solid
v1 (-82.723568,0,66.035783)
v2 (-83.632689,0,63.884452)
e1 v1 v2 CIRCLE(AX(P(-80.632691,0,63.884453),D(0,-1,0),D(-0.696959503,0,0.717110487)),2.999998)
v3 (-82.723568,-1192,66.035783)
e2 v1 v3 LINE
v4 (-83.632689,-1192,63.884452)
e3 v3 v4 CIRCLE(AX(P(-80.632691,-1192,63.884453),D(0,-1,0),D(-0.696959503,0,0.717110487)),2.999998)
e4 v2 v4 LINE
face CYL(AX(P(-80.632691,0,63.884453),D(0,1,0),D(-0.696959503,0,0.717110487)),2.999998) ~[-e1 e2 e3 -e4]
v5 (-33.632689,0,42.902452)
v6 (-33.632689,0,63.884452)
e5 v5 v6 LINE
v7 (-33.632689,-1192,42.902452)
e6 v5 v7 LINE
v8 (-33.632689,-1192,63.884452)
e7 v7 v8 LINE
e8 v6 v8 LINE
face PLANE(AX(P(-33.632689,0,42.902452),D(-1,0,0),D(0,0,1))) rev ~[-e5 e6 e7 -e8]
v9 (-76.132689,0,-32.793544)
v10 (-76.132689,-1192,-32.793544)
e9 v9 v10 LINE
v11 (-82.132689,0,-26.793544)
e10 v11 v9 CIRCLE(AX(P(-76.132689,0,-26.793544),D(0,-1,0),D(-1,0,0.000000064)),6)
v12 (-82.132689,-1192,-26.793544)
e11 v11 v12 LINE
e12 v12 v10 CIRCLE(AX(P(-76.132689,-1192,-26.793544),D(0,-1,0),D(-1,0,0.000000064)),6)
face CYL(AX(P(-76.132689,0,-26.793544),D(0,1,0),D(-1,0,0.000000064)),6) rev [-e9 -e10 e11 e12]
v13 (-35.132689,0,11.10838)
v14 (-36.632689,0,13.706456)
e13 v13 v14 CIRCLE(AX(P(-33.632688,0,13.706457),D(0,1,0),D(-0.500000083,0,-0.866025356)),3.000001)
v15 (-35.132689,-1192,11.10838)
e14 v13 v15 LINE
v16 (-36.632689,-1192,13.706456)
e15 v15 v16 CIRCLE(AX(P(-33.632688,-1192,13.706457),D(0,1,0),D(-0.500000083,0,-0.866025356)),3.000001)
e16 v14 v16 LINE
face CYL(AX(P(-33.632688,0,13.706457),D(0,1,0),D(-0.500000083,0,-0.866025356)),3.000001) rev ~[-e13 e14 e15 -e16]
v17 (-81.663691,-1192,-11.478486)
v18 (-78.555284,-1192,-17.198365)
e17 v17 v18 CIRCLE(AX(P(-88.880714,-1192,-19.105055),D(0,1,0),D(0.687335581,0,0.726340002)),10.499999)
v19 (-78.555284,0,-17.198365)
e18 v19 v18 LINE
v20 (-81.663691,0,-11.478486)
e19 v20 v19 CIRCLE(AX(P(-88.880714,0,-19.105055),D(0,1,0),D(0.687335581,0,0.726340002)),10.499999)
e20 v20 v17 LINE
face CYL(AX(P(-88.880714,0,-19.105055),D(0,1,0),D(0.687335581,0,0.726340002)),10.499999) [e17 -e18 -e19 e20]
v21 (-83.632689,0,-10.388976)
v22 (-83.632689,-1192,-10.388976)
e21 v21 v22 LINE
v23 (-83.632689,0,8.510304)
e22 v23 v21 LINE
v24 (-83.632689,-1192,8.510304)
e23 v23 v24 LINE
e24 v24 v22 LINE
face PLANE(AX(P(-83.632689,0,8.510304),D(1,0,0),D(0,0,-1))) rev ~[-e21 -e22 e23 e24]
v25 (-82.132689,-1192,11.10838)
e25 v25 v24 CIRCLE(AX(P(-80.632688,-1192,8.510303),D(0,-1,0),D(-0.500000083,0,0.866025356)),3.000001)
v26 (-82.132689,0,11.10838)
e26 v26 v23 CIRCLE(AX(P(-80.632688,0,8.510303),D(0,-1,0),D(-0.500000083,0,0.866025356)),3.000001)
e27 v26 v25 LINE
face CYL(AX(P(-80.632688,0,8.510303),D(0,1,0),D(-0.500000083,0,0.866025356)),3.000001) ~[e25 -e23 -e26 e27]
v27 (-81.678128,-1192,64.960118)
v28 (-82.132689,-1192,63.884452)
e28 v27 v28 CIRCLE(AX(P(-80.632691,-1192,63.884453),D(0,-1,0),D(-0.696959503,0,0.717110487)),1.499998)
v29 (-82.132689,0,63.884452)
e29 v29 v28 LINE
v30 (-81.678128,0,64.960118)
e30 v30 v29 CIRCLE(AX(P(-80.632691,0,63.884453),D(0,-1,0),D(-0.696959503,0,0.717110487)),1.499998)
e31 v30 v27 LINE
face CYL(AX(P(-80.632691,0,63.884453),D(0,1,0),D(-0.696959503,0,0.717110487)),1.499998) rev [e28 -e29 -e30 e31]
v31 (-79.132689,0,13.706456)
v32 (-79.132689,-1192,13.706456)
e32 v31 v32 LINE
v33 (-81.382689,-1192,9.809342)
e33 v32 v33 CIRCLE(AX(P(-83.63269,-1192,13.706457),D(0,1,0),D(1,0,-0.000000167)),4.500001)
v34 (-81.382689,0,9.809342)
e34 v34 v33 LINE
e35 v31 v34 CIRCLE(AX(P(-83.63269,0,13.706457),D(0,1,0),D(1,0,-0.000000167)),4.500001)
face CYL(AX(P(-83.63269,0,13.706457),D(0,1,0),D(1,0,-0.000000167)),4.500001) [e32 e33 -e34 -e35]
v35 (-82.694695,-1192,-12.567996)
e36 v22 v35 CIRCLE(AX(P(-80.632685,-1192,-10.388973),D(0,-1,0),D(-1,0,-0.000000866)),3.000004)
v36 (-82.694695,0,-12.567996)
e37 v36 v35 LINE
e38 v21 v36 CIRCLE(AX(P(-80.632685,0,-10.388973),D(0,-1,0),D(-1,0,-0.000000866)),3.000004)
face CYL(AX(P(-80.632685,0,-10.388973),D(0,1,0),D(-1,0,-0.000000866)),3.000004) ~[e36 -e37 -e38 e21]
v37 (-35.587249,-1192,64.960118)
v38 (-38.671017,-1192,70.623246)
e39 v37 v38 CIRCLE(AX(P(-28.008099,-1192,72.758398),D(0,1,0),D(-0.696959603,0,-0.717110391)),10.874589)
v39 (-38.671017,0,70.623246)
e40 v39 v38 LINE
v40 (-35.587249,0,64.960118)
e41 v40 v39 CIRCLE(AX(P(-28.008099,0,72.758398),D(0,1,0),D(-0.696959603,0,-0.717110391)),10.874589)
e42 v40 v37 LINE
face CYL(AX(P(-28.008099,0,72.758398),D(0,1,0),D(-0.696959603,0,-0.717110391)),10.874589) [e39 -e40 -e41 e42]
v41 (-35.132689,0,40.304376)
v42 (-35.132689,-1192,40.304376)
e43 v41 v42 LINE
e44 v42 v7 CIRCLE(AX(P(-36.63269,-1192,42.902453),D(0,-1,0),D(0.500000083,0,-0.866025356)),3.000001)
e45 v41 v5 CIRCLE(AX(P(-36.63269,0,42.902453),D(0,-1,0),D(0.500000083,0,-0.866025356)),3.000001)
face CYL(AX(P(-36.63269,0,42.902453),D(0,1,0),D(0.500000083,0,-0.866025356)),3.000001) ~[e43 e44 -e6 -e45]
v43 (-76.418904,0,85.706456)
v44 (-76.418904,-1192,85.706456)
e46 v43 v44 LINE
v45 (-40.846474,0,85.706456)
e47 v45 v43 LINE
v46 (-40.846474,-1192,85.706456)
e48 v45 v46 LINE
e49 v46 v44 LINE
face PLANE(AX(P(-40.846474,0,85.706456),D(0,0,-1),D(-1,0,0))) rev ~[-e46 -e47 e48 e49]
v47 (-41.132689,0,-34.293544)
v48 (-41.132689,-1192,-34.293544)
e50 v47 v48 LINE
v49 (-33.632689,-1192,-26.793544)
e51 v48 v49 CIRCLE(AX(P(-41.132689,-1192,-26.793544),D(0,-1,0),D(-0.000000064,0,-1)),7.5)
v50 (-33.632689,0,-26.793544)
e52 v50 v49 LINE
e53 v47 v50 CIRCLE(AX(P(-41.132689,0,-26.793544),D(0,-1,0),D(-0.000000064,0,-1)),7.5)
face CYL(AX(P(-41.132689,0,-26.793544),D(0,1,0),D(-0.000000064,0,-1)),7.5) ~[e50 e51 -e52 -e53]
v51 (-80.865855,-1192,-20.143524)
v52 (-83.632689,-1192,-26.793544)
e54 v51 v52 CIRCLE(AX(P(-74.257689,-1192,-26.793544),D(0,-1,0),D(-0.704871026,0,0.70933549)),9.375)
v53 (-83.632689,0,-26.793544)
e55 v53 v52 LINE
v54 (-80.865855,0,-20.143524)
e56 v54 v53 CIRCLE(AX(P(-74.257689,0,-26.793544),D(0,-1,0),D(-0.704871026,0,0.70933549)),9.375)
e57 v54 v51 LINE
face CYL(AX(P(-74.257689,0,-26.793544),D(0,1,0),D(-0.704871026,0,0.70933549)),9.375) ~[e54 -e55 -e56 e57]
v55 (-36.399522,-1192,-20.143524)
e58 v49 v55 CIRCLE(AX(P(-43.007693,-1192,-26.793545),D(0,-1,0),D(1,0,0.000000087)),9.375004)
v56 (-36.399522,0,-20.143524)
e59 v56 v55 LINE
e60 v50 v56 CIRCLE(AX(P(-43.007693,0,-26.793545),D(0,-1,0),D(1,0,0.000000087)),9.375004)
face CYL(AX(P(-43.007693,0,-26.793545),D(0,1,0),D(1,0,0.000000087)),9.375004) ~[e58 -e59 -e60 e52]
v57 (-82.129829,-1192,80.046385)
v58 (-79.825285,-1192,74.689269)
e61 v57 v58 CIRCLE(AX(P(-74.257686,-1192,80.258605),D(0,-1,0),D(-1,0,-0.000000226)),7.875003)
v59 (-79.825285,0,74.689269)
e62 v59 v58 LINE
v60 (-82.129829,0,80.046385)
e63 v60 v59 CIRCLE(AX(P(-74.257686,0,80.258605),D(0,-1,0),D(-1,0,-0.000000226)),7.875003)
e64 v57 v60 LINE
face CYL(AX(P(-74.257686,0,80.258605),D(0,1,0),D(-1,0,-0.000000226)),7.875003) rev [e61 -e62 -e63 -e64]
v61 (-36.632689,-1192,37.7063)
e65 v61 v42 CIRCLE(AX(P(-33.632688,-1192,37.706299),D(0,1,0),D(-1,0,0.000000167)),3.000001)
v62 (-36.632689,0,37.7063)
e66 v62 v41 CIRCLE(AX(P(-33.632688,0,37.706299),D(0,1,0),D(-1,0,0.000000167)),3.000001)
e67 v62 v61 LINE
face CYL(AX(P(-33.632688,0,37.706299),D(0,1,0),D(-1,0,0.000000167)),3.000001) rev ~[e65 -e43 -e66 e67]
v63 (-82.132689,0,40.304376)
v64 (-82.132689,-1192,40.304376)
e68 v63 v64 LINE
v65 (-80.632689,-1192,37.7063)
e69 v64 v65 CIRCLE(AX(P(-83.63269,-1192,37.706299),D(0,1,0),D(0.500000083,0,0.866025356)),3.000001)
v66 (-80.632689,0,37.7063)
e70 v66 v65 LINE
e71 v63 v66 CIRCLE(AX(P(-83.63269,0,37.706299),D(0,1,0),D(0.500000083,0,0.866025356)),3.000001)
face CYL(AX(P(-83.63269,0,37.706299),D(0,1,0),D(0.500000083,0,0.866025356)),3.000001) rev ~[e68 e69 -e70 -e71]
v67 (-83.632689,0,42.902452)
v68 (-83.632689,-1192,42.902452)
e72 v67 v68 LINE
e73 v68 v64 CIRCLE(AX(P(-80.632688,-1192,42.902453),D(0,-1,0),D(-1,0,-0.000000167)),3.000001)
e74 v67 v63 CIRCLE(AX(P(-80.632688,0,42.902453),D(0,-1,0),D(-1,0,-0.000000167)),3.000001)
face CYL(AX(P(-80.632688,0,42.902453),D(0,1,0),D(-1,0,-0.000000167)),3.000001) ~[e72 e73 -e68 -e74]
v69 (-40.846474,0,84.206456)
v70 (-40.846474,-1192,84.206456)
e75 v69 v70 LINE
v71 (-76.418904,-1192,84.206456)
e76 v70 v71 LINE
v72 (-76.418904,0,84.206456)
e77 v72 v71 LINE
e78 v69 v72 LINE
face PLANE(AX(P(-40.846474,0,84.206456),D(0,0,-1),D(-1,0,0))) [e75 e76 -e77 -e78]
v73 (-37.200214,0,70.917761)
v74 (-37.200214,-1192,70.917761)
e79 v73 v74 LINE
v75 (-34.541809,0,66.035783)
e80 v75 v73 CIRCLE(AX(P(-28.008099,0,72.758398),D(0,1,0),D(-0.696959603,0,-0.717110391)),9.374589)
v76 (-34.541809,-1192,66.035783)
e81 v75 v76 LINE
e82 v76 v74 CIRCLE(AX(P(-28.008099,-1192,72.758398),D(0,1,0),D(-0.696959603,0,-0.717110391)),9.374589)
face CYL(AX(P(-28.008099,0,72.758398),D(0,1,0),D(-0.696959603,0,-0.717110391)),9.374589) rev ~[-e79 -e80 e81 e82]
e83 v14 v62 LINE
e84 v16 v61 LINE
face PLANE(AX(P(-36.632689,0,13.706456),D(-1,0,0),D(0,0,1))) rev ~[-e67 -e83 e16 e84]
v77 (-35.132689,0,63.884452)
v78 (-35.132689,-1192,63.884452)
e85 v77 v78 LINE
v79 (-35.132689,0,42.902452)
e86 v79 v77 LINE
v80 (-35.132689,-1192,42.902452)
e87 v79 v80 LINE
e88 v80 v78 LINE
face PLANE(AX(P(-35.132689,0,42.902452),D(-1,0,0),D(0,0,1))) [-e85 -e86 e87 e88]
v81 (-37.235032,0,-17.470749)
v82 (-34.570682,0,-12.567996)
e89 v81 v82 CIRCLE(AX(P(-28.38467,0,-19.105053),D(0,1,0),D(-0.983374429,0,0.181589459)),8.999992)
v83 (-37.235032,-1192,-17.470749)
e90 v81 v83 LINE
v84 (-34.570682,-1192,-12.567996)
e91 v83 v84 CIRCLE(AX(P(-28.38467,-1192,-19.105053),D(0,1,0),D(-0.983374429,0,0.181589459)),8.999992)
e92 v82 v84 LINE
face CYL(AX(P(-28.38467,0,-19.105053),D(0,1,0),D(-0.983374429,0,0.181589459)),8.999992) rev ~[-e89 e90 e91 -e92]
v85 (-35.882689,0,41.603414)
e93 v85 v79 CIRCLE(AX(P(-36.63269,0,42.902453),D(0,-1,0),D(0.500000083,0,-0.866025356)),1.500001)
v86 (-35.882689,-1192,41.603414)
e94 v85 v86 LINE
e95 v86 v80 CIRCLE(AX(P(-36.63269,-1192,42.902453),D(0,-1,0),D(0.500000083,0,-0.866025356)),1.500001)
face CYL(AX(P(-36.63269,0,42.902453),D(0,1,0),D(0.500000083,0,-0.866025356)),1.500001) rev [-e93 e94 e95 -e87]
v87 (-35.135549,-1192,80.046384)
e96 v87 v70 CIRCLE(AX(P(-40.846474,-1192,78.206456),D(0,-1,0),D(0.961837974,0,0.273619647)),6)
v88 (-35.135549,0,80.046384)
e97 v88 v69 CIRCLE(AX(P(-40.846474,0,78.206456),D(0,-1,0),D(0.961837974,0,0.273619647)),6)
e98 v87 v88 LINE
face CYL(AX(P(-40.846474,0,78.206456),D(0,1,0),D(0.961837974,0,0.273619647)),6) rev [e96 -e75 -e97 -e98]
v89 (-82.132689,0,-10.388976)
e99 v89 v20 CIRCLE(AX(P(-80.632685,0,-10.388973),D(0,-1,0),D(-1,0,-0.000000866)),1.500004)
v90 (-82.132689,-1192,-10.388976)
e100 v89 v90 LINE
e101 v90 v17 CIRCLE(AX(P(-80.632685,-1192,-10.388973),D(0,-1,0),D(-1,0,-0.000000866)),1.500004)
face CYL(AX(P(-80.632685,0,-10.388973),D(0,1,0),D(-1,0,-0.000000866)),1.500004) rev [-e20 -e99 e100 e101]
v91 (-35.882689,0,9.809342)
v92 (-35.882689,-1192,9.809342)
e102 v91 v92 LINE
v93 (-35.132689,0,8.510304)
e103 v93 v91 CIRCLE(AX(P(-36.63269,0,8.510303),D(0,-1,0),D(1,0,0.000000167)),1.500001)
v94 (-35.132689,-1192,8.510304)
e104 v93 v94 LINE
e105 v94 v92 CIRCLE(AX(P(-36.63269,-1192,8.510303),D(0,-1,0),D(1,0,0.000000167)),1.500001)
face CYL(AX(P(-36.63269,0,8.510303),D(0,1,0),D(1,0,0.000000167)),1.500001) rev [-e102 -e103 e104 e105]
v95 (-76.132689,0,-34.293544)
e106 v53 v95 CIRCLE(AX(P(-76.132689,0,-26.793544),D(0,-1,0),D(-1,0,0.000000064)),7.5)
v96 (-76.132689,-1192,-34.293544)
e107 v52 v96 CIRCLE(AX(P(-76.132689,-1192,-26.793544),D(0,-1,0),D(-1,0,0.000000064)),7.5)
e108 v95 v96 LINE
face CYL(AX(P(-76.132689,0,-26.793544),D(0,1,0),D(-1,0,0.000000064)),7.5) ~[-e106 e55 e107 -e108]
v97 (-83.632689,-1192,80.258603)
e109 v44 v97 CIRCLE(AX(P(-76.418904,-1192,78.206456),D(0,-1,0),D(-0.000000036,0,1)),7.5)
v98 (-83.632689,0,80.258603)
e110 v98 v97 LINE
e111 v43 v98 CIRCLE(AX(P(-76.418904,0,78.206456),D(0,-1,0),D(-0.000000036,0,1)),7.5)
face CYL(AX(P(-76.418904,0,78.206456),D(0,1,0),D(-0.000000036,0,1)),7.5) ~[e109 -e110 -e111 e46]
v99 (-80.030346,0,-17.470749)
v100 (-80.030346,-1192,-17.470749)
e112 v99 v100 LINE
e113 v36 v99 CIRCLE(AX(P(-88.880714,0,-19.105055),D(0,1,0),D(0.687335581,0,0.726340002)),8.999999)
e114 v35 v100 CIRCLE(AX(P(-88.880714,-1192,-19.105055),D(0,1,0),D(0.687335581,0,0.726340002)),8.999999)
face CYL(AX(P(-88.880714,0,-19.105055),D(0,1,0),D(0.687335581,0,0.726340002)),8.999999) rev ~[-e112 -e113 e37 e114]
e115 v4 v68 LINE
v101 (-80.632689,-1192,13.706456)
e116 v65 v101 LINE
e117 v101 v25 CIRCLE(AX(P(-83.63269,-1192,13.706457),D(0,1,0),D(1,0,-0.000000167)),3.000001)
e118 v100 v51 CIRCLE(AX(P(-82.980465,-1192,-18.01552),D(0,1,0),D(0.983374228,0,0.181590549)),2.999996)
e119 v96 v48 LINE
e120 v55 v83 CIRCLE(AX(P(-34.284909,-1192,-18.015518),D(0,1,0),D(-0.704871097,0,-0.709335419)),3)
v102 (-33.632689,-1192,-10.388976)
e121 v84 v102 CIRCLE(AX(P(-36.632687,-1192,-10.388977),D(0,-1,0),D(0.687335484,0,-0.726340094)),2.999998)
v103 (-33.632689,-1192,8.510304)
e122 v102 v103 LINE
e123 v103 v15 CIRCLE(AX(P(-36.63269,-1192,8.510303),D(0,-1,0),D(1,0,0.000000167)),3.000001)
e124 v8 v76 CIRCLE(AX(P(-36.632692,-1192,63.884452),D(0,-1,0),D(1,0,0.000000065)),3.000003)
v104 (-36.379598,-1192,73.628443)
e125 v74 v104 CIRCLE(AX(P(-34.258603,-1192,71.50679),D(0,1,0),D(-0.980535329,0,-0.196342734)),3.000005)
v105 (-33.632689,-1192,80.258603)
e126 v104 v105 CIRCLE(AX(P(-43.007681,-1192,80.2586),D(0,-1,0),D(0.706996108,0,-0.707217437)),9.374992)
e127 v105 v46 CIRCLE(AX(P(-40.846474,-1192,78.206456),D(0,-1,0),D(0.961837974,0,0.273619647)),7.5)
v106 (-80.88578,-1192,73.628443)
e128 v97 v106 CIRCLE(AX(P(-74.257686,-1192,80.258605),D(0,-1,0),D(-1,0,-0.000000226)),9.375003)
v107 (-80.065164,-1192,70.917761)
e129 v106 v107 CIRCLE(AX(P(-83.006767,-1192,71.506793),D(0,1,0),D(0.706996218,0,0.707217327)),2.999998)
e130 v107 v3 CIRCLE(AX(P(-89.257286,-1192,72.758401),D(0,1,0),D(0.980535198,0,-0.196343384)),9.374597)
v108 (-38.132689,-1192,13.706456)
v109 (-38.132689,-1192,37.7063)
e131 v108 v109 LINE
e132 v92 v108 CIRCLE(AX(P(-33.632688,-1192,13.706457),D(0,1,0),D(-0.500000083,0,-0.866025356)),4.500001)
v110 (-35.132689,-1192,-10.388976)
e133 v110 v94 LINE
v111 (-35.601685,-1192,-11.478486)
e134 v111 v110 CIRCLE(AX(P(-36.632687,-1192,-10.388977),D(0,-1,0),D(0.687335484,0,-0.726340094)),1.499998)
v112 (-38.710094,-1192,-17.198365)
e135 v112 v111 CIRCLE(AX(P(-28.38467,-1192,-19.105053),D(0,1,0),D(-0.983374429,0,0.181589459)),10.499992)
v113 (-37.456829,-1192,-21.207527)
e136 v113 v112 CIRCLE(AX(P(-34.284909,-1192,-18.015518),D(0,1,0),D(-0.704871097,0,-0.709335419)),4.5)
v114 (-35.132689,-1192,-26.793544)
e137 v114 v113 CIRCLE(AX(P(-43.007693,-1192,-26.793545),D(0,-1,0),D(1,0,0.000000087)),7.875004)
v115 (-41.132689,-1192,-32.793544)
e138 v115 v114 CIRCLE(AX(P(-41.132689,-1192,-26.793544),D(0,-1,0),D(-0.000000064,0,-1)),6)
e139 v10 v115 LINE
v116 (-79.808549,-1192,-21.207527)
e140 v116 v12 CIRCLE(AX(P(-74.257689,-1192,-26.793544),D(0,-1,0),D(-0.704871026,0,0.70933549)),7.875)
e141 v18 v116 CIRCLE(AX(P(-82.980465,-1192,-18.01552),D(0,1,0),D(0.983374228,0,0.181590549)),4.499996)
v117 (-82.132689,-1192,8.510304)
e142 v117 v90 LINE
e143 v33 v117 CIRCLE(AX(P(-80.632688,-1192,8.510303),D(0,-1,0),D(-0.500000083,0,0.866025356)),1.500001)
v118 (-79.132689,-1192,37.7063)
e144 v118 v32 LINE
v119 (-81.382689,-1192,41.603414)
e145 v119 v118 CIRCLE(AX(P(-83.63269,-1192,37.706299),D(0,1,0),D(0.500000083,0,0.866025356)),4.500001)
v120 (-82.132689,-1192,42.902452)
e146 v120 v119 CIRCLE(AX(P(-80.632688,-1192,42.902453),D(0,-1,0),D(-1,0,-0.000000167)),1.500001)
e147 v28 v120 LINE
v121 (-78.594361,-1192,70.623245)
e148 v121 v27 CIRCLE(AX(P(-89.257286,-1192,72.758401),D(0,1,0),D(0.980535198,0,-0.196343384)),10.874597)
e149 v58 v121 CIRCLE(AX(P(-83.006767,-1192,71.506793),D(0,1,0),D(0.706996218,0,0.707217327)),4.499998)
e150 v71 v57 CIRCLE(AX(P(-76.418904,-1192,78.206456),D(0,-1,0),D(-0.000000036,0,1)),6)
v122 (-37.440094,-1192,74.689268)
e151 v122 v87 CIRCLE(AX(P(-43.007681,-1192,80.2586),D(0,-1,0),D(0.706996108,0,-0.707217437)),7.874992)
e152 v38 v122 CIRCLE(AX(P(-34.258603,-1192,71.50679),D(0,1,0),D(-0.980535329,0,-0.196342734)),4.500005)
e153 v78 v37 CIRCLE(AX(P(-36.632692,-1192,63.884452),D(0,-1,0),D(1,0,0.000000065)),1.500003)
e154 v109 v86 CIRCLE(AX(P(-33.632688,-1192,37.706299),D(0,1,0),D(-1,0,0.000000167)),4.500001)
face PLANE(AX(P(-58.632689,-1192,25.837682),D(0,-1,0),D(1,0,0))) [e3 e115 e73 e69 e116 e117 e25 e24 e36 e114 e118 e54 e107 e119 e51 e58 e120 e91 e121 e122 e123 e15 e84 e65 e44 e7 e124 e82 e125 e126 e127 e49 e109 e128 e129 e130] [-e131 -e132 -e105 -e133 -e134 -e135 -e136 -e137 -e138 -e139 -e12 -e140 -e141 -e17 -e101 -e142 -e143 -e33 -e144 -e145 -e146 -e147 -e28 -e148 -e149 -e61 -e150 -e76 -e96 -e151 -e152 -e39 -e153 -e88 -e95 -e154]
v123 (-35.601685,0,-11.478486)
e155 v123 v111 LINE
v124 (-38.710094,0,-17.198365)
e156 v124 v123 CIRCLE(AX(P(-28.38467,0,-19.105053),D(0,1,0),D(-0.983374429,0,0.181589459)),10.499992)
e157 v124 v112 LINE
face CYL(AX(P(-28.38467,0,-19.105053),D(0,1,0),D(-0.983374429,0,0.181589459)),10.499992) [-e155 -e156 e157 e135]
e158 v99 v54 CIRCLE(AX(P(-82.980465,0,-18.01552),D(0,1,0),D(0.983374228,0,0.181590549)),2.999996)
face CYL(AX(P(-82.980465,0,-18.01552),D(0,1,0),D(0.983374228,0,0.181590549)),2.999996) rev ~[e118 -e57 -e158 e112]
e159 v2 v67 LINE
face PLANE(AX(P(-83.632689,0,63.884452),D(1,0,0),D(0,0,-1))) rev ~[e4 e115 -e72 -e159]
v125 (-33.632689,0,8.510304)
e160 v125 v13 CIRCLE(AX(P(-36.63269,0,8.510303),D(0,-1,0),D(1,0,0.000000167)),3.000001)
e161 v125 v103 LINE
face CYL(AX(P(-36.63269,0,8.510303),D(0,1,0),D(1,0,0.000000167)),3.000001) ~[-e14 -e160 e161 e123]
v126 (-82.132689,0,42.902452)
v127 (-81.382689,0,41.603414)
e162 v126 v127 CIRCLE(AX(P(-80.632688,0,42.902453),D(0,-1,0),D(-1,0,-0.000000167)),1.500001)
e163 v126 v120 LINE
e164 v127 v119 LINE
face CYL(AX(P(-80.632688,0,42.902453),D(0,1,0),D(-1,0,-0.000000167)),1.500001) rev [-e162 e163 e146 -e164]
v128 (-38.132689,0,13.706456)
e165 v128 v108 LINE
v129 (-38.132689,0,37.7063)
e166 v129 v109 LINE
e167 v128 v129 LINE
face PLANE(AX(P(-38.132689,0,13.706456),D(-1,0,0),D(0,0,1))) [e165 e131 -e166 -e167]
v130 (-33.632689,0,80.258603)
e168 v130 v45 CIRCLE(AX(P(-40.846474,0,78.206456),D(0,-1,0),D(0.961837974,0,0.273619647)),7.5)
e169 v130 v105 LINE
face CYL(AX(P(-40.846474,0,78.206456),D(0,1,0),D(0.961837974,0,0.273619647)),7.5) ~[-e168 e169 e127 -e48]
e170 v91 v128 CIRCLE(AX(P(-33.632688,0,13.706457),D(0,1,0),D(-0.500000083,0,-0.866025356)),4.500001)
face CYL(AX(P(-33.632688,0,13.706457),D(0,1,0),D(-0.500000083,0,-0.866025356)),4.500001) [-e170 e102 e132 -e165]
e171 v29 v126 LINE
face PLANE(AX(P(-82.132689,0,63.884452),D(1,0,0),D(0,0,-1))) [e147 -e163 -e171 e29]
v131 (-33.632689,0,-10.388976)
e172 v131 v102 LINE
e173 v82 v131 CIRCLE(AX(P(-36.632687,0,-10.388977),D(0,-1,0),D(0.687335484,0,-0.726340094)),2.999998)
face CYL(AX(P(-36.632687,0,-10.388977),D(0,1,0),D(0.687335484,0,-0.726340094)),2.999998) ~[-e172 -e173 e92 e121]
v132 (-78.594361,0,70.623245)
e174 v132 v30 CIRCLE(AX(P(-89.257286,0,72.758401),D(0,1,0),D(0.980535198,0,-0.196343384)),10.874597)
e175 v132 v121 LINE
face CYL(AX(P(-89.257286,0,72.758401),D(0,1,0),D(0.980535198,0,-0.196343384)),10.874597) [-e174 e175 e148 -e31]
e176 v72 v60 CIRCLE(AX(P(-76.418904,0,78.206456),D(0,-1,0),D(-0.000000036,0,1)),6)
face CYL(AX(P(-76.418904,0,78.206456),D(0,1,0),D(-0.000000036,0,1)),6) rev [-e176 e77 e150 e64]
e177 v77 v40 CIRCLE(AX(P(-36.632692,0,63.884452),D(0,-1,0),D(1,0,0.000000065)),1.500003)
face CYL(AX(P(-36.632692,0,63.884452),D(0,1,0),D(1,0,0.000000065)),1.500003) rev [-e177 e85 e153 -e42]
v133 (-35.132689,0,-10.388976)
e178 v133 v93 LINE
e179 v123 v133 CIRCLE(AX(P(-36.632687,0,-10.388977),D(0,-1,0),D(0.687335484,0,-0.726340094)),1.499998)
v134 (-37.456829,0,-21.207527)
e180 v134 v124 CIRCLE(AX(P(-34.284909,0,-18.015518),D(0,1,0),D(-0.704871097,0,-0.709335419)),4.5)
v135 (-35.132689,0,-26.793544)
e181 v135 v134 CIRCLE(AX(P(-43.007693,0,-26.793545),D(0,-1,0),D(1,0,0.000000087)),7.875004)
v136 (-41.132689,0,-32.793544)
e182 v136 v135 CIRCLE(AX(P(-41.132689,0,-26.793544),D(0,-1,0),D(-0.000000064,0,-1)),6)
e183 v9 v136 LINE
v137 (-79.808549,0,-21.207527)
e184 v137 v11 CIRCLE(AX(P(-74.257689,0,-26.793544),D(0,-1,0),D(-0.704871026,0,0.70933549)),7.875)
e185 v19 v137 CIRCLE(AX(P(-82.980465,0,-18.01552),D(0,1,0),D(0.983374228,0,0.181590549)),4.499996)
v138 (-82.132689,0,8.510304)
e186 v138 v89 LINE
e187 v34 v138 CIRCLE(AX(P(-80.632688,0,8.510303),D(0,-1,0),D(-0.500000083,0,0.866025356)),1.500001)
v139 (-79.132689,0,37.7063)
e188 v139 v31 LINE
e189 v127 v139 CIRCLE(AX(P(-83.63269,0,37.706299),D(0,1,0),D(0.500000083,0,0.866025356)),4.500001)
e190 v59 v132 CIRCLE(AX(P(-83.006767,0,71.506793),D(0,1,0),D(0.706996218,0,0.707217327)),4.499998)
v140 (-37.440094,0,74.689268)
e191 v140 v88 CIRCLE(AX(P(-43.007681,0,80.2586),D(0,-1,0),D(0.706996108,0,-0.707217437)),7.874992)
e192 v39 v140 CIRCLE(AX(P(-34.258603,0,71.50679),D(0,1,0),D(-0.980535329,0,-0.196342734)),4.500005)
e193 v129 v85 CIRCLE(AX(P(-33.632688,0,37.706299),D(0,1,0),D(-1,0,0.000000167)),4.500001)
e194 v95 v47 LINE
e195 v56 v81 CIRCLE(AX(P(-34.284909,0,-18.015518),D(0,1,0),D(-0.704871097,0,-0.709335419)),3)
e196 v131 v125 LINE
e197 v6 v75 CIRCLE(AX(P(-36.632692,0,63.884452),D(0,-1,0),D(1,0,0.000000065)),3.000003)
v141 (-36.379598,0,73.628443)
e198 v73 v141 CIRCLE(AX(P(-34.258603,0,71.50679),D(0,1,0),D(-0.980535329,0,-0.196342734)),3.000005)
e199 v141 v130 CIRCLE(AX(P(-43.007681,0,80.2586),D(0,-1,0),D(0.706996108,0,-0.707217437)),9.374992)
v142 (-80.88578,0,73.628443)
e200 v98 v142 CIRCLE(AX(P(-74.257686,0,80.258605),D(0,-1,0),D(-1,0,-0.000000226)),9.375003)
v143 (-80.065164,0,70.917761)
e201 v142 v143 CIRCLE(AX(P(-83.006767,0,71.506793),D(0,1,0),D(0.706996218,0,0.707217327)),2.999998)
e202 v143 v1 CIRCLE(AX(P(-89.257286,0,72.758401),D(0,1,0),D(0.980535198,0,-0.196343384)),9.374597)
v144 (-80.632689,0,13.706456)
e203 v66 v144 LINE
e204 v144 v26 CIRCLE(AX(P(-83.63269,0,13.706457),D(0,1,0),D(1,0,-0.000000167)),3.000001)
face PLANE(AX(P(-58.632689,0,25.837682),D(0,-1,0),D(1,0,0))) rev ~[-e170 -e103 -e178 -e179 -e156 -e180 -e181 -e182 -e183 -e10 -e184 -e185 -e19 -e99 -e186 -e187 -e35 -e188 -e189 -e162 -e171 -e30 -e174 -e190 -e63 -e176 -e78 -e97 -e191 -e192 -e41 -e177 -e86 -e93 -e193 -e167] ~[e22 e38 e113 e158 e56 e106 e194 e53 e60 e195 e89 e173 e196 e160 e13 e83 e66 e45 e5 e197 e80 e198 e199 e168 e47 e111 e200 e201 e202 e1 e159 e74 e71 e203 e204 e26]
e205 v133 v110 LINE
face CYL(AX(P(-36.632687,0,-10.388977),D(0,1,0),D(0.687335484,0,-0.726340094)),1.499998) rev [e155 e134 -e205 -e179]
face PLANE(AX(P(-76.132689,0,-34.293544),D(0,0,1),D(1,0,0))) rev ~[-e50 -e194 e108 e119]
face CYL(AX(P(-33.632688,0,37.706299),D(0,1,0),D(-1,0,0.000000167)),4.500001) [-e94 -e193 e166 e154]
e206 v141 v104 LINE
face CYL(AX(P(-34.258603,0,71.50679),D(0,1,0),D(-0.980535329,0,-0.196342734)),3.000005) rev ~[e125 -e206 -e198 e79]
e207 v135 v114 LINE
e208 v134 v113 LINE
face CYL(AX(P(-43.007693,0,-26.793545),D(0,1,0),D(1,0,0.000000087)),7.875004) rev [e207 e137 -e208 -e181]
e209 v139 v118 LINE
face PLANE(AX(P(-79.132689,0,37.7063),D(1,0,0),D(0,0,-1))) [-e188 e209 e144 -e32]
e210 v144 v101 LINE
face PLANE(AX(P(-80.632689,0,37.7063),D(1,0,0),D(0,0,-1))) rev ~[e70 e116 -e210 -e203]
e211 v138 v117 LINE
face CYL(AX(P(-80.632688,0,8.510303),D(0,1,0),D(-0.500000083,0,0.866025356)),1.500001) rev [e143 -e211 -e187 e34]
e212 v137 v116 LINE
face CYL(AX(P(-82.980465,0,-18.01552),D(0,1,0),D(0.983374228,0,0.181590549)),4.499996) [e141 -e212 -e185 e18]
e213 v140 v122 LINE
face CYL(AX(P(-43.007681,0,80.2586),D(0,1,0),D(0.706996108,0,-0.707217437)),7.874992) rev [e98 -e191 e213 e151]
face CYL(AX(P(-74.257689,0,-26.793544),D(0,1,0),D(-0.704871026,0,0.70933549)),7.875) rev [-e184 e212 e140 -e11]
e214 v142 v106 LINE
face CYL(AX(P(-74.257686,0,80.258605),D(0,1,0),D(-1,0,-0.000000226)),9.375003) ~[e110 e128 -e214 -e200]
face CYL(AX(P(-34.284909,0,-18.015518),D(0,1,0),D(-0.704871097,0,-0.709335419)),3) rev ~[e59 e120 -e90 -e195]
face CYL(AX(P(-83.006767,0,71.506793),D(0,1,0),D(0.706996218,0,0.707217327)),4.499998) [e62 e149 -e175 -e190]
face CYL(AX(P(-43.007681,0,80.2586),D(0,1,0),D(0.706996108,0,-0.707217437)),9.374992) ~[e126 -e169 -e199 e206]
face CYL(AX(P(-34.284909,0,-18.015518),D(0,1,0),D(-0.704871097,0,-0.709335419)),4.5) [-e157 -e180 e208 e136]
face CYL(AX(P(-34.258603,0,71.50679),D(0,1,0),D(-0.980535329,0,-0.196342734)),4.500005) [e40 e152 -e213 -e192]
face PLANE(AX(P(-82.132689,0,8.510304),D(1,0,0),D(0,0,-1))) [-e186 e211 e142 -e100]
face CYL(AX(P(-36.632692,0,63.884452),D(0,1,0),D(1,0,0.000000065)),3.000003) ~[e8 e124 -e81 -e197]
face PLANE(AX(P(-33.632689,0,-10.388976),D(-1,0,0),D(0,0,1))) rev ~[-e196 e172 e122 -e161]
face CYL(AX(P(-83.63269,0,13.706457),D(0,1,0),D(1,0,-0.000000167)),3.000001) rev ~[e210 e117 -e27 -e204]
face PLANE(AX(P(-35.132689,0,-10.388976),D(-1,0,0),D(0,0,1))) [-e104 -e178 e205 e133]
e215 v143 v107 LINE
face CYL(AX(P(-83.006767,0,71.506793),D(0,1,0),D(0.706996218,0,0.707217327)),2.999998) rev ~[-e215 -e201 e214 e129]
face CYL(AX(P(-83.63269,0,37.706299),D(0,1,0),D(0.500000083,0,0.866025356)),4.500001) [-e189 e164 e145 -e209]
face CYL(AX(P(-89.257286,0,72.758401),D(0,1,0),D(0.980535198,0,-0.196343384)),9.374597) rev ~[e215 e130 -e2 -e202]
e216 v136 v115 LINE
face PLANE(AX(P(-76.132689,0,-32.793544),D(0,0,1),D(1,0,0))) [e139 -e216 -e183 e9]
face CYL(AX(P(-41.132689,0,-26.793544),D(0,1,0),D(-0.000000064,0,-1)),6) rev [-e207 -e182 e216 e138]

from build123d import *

# Parameters (mm, degrees)
F1_DEPTH = 1192
F2_T     = -1.5


with BuildPart() as f1:
    # F0 (on Front) → F1 (new body)
    with BuildSketch(Plane.XZ):
        with BuildLine():
            Line((-40.846474, 85.706456), (-76.418904, 85.706456))
            ThreePointArc((-76.418904, 85.706456), (-80.938799, 84.191483), (-83.632689, 80.258603))
            ThreePointArc((-83.632689, 80.258603), (-82.918779, 76.67027), (-80.88578, 73.628443))
            ThreePointArc((-80.88578, 73.628443), (-80.13546, 72.376035), (-80.065164, 70.917761))
            ThreePointArc((-80.065164, 70.917761), (-81.024186, 68.275196), (-82.723568, 66.035783))
            ThreePointArc((-82.723568, 66.035783), (-83.396078, 65.05222), (-83.632689, 63.884452))
            Line((-83.632689, 63.884452), (-83.632689, 42.902452))
            ThreePointArc((-83.632689, 42.902452), (-83.230765, 41.402452), (-82.132689, 40.304376))
            ThreePointArc((-82.132689, 40.304376), (-81.034613, 39.2063), (-80.632689, 37.7063))
            Line((-80.632689, 37.7063), (-80.632689, 13.706456))
            ThreePointArc((-80.632689, 13.706456), (-81.034613, 12.206456), (-82.132689, 11.10838))
            ThreePointArc((-82.132689, 11.10838), (-83.230765, 10.010304), (-83.632689, 8.510304))
            Line((-83.632689, 8.510304), (-83.632689, -10.388976))
            ThreePointArc((-83.632689, -10.388976), (-83.38823, -11.575142), (-82.694695, -12.567996))
            ThreePointArc((-82.694695, -12.567996), (-80.972966, -14.807673), (-80.030346, -17.470749))
            ThreePointArc((-80.030346, -17.470749), (-80.11711, -18.910604), (-80.865855, -20.143524))
            ThreePointArc((-80.865855, -20.143524), (-82.913386, -23.19222), (-83.632689, -26.793544))
            ThreePointArc((-83.632689, -26.793544), (-81.43599, -32.096845), (-76.132689, -34.293544))
            Line((-76.132689, -34.293544), (-41.132689, -34.293544))
            ThreePointArc((-41.132689, -34.293544), (-35.829388, -32.096845), (-33.632689, -26.793544))
            ThreePointArc((-33.632689, -26.793544), (-34.351992, -23.19222), (-36.399522, -20.143524))
            ThreePointArc((-36.399522, -20.143524), (-37.148267, -18.910604), (-37.235032, -17.470749))
            ThreePointArc((-37.235032, -17.470749), (-36.292412, -14.807673), (-34.570682, -12.567996))
            ThreePointArc((-34.570682, -12.567996), (-33.877147, -11.575142), (-33.632689, -10.388976))
            Line((-33.632689, -10.388976), (-33.632689, 8.510304))
            ThreePointArc((-33.632689, 8.510304), (-34.034613, 10.010304), (-35.132689, 11.10838))
            ThreePointArc((-35.132689, 11.10838), (-36.230765, 12.206456), (-36.632689, 13.706456))
            Line((-36.632689, 13.706456), (-36.632689, 37.7063))
            ThreePointArc((-36.632689, 37.7063), (-36.230765, 39.2063), (-35.132689, 40.304376))
            ThreePointArc((-35.132689, 40.304376), (-34.034613, 41.402452), (-33.632689, 42.902452))
            Line((-33.632689, 42.902452), (-33.632689, 63.884452))
            ThreePointArc((-33.632689, 63.884452), (-33.8693, 65.05222), (-34.541809, 66.035783))
            ThreePointArc((-34.541809, 66.035783), (-36.241192, 68.275196), (-37.200214, 70.917761))
            ThreePointArc((-37.200214, 70.917761), (-37.129917, 72.376035), (-36.379598, 73.628443))
            ThreePointArc((-36.379598, 73.628443), (-34.346598, 76.67027), (-33.632689, 80.258603))
            ThreePointArc((-33.632689, 80.258603), (-36.326579, 84.191483), (-40.846474, 85.706456))
        make_face()
    extrude(amount=F1_DEPTH)

    # F2
    f2_openings = [f1.faces().sort_by_distance(p)[0] for p in [
        (-58.632689, 0, 25.725749),
        (-58.632689, -1192, 25.725749),
    ]]
    offset(amount=F2_T, openings=f2_openings)


solid = f1.part
